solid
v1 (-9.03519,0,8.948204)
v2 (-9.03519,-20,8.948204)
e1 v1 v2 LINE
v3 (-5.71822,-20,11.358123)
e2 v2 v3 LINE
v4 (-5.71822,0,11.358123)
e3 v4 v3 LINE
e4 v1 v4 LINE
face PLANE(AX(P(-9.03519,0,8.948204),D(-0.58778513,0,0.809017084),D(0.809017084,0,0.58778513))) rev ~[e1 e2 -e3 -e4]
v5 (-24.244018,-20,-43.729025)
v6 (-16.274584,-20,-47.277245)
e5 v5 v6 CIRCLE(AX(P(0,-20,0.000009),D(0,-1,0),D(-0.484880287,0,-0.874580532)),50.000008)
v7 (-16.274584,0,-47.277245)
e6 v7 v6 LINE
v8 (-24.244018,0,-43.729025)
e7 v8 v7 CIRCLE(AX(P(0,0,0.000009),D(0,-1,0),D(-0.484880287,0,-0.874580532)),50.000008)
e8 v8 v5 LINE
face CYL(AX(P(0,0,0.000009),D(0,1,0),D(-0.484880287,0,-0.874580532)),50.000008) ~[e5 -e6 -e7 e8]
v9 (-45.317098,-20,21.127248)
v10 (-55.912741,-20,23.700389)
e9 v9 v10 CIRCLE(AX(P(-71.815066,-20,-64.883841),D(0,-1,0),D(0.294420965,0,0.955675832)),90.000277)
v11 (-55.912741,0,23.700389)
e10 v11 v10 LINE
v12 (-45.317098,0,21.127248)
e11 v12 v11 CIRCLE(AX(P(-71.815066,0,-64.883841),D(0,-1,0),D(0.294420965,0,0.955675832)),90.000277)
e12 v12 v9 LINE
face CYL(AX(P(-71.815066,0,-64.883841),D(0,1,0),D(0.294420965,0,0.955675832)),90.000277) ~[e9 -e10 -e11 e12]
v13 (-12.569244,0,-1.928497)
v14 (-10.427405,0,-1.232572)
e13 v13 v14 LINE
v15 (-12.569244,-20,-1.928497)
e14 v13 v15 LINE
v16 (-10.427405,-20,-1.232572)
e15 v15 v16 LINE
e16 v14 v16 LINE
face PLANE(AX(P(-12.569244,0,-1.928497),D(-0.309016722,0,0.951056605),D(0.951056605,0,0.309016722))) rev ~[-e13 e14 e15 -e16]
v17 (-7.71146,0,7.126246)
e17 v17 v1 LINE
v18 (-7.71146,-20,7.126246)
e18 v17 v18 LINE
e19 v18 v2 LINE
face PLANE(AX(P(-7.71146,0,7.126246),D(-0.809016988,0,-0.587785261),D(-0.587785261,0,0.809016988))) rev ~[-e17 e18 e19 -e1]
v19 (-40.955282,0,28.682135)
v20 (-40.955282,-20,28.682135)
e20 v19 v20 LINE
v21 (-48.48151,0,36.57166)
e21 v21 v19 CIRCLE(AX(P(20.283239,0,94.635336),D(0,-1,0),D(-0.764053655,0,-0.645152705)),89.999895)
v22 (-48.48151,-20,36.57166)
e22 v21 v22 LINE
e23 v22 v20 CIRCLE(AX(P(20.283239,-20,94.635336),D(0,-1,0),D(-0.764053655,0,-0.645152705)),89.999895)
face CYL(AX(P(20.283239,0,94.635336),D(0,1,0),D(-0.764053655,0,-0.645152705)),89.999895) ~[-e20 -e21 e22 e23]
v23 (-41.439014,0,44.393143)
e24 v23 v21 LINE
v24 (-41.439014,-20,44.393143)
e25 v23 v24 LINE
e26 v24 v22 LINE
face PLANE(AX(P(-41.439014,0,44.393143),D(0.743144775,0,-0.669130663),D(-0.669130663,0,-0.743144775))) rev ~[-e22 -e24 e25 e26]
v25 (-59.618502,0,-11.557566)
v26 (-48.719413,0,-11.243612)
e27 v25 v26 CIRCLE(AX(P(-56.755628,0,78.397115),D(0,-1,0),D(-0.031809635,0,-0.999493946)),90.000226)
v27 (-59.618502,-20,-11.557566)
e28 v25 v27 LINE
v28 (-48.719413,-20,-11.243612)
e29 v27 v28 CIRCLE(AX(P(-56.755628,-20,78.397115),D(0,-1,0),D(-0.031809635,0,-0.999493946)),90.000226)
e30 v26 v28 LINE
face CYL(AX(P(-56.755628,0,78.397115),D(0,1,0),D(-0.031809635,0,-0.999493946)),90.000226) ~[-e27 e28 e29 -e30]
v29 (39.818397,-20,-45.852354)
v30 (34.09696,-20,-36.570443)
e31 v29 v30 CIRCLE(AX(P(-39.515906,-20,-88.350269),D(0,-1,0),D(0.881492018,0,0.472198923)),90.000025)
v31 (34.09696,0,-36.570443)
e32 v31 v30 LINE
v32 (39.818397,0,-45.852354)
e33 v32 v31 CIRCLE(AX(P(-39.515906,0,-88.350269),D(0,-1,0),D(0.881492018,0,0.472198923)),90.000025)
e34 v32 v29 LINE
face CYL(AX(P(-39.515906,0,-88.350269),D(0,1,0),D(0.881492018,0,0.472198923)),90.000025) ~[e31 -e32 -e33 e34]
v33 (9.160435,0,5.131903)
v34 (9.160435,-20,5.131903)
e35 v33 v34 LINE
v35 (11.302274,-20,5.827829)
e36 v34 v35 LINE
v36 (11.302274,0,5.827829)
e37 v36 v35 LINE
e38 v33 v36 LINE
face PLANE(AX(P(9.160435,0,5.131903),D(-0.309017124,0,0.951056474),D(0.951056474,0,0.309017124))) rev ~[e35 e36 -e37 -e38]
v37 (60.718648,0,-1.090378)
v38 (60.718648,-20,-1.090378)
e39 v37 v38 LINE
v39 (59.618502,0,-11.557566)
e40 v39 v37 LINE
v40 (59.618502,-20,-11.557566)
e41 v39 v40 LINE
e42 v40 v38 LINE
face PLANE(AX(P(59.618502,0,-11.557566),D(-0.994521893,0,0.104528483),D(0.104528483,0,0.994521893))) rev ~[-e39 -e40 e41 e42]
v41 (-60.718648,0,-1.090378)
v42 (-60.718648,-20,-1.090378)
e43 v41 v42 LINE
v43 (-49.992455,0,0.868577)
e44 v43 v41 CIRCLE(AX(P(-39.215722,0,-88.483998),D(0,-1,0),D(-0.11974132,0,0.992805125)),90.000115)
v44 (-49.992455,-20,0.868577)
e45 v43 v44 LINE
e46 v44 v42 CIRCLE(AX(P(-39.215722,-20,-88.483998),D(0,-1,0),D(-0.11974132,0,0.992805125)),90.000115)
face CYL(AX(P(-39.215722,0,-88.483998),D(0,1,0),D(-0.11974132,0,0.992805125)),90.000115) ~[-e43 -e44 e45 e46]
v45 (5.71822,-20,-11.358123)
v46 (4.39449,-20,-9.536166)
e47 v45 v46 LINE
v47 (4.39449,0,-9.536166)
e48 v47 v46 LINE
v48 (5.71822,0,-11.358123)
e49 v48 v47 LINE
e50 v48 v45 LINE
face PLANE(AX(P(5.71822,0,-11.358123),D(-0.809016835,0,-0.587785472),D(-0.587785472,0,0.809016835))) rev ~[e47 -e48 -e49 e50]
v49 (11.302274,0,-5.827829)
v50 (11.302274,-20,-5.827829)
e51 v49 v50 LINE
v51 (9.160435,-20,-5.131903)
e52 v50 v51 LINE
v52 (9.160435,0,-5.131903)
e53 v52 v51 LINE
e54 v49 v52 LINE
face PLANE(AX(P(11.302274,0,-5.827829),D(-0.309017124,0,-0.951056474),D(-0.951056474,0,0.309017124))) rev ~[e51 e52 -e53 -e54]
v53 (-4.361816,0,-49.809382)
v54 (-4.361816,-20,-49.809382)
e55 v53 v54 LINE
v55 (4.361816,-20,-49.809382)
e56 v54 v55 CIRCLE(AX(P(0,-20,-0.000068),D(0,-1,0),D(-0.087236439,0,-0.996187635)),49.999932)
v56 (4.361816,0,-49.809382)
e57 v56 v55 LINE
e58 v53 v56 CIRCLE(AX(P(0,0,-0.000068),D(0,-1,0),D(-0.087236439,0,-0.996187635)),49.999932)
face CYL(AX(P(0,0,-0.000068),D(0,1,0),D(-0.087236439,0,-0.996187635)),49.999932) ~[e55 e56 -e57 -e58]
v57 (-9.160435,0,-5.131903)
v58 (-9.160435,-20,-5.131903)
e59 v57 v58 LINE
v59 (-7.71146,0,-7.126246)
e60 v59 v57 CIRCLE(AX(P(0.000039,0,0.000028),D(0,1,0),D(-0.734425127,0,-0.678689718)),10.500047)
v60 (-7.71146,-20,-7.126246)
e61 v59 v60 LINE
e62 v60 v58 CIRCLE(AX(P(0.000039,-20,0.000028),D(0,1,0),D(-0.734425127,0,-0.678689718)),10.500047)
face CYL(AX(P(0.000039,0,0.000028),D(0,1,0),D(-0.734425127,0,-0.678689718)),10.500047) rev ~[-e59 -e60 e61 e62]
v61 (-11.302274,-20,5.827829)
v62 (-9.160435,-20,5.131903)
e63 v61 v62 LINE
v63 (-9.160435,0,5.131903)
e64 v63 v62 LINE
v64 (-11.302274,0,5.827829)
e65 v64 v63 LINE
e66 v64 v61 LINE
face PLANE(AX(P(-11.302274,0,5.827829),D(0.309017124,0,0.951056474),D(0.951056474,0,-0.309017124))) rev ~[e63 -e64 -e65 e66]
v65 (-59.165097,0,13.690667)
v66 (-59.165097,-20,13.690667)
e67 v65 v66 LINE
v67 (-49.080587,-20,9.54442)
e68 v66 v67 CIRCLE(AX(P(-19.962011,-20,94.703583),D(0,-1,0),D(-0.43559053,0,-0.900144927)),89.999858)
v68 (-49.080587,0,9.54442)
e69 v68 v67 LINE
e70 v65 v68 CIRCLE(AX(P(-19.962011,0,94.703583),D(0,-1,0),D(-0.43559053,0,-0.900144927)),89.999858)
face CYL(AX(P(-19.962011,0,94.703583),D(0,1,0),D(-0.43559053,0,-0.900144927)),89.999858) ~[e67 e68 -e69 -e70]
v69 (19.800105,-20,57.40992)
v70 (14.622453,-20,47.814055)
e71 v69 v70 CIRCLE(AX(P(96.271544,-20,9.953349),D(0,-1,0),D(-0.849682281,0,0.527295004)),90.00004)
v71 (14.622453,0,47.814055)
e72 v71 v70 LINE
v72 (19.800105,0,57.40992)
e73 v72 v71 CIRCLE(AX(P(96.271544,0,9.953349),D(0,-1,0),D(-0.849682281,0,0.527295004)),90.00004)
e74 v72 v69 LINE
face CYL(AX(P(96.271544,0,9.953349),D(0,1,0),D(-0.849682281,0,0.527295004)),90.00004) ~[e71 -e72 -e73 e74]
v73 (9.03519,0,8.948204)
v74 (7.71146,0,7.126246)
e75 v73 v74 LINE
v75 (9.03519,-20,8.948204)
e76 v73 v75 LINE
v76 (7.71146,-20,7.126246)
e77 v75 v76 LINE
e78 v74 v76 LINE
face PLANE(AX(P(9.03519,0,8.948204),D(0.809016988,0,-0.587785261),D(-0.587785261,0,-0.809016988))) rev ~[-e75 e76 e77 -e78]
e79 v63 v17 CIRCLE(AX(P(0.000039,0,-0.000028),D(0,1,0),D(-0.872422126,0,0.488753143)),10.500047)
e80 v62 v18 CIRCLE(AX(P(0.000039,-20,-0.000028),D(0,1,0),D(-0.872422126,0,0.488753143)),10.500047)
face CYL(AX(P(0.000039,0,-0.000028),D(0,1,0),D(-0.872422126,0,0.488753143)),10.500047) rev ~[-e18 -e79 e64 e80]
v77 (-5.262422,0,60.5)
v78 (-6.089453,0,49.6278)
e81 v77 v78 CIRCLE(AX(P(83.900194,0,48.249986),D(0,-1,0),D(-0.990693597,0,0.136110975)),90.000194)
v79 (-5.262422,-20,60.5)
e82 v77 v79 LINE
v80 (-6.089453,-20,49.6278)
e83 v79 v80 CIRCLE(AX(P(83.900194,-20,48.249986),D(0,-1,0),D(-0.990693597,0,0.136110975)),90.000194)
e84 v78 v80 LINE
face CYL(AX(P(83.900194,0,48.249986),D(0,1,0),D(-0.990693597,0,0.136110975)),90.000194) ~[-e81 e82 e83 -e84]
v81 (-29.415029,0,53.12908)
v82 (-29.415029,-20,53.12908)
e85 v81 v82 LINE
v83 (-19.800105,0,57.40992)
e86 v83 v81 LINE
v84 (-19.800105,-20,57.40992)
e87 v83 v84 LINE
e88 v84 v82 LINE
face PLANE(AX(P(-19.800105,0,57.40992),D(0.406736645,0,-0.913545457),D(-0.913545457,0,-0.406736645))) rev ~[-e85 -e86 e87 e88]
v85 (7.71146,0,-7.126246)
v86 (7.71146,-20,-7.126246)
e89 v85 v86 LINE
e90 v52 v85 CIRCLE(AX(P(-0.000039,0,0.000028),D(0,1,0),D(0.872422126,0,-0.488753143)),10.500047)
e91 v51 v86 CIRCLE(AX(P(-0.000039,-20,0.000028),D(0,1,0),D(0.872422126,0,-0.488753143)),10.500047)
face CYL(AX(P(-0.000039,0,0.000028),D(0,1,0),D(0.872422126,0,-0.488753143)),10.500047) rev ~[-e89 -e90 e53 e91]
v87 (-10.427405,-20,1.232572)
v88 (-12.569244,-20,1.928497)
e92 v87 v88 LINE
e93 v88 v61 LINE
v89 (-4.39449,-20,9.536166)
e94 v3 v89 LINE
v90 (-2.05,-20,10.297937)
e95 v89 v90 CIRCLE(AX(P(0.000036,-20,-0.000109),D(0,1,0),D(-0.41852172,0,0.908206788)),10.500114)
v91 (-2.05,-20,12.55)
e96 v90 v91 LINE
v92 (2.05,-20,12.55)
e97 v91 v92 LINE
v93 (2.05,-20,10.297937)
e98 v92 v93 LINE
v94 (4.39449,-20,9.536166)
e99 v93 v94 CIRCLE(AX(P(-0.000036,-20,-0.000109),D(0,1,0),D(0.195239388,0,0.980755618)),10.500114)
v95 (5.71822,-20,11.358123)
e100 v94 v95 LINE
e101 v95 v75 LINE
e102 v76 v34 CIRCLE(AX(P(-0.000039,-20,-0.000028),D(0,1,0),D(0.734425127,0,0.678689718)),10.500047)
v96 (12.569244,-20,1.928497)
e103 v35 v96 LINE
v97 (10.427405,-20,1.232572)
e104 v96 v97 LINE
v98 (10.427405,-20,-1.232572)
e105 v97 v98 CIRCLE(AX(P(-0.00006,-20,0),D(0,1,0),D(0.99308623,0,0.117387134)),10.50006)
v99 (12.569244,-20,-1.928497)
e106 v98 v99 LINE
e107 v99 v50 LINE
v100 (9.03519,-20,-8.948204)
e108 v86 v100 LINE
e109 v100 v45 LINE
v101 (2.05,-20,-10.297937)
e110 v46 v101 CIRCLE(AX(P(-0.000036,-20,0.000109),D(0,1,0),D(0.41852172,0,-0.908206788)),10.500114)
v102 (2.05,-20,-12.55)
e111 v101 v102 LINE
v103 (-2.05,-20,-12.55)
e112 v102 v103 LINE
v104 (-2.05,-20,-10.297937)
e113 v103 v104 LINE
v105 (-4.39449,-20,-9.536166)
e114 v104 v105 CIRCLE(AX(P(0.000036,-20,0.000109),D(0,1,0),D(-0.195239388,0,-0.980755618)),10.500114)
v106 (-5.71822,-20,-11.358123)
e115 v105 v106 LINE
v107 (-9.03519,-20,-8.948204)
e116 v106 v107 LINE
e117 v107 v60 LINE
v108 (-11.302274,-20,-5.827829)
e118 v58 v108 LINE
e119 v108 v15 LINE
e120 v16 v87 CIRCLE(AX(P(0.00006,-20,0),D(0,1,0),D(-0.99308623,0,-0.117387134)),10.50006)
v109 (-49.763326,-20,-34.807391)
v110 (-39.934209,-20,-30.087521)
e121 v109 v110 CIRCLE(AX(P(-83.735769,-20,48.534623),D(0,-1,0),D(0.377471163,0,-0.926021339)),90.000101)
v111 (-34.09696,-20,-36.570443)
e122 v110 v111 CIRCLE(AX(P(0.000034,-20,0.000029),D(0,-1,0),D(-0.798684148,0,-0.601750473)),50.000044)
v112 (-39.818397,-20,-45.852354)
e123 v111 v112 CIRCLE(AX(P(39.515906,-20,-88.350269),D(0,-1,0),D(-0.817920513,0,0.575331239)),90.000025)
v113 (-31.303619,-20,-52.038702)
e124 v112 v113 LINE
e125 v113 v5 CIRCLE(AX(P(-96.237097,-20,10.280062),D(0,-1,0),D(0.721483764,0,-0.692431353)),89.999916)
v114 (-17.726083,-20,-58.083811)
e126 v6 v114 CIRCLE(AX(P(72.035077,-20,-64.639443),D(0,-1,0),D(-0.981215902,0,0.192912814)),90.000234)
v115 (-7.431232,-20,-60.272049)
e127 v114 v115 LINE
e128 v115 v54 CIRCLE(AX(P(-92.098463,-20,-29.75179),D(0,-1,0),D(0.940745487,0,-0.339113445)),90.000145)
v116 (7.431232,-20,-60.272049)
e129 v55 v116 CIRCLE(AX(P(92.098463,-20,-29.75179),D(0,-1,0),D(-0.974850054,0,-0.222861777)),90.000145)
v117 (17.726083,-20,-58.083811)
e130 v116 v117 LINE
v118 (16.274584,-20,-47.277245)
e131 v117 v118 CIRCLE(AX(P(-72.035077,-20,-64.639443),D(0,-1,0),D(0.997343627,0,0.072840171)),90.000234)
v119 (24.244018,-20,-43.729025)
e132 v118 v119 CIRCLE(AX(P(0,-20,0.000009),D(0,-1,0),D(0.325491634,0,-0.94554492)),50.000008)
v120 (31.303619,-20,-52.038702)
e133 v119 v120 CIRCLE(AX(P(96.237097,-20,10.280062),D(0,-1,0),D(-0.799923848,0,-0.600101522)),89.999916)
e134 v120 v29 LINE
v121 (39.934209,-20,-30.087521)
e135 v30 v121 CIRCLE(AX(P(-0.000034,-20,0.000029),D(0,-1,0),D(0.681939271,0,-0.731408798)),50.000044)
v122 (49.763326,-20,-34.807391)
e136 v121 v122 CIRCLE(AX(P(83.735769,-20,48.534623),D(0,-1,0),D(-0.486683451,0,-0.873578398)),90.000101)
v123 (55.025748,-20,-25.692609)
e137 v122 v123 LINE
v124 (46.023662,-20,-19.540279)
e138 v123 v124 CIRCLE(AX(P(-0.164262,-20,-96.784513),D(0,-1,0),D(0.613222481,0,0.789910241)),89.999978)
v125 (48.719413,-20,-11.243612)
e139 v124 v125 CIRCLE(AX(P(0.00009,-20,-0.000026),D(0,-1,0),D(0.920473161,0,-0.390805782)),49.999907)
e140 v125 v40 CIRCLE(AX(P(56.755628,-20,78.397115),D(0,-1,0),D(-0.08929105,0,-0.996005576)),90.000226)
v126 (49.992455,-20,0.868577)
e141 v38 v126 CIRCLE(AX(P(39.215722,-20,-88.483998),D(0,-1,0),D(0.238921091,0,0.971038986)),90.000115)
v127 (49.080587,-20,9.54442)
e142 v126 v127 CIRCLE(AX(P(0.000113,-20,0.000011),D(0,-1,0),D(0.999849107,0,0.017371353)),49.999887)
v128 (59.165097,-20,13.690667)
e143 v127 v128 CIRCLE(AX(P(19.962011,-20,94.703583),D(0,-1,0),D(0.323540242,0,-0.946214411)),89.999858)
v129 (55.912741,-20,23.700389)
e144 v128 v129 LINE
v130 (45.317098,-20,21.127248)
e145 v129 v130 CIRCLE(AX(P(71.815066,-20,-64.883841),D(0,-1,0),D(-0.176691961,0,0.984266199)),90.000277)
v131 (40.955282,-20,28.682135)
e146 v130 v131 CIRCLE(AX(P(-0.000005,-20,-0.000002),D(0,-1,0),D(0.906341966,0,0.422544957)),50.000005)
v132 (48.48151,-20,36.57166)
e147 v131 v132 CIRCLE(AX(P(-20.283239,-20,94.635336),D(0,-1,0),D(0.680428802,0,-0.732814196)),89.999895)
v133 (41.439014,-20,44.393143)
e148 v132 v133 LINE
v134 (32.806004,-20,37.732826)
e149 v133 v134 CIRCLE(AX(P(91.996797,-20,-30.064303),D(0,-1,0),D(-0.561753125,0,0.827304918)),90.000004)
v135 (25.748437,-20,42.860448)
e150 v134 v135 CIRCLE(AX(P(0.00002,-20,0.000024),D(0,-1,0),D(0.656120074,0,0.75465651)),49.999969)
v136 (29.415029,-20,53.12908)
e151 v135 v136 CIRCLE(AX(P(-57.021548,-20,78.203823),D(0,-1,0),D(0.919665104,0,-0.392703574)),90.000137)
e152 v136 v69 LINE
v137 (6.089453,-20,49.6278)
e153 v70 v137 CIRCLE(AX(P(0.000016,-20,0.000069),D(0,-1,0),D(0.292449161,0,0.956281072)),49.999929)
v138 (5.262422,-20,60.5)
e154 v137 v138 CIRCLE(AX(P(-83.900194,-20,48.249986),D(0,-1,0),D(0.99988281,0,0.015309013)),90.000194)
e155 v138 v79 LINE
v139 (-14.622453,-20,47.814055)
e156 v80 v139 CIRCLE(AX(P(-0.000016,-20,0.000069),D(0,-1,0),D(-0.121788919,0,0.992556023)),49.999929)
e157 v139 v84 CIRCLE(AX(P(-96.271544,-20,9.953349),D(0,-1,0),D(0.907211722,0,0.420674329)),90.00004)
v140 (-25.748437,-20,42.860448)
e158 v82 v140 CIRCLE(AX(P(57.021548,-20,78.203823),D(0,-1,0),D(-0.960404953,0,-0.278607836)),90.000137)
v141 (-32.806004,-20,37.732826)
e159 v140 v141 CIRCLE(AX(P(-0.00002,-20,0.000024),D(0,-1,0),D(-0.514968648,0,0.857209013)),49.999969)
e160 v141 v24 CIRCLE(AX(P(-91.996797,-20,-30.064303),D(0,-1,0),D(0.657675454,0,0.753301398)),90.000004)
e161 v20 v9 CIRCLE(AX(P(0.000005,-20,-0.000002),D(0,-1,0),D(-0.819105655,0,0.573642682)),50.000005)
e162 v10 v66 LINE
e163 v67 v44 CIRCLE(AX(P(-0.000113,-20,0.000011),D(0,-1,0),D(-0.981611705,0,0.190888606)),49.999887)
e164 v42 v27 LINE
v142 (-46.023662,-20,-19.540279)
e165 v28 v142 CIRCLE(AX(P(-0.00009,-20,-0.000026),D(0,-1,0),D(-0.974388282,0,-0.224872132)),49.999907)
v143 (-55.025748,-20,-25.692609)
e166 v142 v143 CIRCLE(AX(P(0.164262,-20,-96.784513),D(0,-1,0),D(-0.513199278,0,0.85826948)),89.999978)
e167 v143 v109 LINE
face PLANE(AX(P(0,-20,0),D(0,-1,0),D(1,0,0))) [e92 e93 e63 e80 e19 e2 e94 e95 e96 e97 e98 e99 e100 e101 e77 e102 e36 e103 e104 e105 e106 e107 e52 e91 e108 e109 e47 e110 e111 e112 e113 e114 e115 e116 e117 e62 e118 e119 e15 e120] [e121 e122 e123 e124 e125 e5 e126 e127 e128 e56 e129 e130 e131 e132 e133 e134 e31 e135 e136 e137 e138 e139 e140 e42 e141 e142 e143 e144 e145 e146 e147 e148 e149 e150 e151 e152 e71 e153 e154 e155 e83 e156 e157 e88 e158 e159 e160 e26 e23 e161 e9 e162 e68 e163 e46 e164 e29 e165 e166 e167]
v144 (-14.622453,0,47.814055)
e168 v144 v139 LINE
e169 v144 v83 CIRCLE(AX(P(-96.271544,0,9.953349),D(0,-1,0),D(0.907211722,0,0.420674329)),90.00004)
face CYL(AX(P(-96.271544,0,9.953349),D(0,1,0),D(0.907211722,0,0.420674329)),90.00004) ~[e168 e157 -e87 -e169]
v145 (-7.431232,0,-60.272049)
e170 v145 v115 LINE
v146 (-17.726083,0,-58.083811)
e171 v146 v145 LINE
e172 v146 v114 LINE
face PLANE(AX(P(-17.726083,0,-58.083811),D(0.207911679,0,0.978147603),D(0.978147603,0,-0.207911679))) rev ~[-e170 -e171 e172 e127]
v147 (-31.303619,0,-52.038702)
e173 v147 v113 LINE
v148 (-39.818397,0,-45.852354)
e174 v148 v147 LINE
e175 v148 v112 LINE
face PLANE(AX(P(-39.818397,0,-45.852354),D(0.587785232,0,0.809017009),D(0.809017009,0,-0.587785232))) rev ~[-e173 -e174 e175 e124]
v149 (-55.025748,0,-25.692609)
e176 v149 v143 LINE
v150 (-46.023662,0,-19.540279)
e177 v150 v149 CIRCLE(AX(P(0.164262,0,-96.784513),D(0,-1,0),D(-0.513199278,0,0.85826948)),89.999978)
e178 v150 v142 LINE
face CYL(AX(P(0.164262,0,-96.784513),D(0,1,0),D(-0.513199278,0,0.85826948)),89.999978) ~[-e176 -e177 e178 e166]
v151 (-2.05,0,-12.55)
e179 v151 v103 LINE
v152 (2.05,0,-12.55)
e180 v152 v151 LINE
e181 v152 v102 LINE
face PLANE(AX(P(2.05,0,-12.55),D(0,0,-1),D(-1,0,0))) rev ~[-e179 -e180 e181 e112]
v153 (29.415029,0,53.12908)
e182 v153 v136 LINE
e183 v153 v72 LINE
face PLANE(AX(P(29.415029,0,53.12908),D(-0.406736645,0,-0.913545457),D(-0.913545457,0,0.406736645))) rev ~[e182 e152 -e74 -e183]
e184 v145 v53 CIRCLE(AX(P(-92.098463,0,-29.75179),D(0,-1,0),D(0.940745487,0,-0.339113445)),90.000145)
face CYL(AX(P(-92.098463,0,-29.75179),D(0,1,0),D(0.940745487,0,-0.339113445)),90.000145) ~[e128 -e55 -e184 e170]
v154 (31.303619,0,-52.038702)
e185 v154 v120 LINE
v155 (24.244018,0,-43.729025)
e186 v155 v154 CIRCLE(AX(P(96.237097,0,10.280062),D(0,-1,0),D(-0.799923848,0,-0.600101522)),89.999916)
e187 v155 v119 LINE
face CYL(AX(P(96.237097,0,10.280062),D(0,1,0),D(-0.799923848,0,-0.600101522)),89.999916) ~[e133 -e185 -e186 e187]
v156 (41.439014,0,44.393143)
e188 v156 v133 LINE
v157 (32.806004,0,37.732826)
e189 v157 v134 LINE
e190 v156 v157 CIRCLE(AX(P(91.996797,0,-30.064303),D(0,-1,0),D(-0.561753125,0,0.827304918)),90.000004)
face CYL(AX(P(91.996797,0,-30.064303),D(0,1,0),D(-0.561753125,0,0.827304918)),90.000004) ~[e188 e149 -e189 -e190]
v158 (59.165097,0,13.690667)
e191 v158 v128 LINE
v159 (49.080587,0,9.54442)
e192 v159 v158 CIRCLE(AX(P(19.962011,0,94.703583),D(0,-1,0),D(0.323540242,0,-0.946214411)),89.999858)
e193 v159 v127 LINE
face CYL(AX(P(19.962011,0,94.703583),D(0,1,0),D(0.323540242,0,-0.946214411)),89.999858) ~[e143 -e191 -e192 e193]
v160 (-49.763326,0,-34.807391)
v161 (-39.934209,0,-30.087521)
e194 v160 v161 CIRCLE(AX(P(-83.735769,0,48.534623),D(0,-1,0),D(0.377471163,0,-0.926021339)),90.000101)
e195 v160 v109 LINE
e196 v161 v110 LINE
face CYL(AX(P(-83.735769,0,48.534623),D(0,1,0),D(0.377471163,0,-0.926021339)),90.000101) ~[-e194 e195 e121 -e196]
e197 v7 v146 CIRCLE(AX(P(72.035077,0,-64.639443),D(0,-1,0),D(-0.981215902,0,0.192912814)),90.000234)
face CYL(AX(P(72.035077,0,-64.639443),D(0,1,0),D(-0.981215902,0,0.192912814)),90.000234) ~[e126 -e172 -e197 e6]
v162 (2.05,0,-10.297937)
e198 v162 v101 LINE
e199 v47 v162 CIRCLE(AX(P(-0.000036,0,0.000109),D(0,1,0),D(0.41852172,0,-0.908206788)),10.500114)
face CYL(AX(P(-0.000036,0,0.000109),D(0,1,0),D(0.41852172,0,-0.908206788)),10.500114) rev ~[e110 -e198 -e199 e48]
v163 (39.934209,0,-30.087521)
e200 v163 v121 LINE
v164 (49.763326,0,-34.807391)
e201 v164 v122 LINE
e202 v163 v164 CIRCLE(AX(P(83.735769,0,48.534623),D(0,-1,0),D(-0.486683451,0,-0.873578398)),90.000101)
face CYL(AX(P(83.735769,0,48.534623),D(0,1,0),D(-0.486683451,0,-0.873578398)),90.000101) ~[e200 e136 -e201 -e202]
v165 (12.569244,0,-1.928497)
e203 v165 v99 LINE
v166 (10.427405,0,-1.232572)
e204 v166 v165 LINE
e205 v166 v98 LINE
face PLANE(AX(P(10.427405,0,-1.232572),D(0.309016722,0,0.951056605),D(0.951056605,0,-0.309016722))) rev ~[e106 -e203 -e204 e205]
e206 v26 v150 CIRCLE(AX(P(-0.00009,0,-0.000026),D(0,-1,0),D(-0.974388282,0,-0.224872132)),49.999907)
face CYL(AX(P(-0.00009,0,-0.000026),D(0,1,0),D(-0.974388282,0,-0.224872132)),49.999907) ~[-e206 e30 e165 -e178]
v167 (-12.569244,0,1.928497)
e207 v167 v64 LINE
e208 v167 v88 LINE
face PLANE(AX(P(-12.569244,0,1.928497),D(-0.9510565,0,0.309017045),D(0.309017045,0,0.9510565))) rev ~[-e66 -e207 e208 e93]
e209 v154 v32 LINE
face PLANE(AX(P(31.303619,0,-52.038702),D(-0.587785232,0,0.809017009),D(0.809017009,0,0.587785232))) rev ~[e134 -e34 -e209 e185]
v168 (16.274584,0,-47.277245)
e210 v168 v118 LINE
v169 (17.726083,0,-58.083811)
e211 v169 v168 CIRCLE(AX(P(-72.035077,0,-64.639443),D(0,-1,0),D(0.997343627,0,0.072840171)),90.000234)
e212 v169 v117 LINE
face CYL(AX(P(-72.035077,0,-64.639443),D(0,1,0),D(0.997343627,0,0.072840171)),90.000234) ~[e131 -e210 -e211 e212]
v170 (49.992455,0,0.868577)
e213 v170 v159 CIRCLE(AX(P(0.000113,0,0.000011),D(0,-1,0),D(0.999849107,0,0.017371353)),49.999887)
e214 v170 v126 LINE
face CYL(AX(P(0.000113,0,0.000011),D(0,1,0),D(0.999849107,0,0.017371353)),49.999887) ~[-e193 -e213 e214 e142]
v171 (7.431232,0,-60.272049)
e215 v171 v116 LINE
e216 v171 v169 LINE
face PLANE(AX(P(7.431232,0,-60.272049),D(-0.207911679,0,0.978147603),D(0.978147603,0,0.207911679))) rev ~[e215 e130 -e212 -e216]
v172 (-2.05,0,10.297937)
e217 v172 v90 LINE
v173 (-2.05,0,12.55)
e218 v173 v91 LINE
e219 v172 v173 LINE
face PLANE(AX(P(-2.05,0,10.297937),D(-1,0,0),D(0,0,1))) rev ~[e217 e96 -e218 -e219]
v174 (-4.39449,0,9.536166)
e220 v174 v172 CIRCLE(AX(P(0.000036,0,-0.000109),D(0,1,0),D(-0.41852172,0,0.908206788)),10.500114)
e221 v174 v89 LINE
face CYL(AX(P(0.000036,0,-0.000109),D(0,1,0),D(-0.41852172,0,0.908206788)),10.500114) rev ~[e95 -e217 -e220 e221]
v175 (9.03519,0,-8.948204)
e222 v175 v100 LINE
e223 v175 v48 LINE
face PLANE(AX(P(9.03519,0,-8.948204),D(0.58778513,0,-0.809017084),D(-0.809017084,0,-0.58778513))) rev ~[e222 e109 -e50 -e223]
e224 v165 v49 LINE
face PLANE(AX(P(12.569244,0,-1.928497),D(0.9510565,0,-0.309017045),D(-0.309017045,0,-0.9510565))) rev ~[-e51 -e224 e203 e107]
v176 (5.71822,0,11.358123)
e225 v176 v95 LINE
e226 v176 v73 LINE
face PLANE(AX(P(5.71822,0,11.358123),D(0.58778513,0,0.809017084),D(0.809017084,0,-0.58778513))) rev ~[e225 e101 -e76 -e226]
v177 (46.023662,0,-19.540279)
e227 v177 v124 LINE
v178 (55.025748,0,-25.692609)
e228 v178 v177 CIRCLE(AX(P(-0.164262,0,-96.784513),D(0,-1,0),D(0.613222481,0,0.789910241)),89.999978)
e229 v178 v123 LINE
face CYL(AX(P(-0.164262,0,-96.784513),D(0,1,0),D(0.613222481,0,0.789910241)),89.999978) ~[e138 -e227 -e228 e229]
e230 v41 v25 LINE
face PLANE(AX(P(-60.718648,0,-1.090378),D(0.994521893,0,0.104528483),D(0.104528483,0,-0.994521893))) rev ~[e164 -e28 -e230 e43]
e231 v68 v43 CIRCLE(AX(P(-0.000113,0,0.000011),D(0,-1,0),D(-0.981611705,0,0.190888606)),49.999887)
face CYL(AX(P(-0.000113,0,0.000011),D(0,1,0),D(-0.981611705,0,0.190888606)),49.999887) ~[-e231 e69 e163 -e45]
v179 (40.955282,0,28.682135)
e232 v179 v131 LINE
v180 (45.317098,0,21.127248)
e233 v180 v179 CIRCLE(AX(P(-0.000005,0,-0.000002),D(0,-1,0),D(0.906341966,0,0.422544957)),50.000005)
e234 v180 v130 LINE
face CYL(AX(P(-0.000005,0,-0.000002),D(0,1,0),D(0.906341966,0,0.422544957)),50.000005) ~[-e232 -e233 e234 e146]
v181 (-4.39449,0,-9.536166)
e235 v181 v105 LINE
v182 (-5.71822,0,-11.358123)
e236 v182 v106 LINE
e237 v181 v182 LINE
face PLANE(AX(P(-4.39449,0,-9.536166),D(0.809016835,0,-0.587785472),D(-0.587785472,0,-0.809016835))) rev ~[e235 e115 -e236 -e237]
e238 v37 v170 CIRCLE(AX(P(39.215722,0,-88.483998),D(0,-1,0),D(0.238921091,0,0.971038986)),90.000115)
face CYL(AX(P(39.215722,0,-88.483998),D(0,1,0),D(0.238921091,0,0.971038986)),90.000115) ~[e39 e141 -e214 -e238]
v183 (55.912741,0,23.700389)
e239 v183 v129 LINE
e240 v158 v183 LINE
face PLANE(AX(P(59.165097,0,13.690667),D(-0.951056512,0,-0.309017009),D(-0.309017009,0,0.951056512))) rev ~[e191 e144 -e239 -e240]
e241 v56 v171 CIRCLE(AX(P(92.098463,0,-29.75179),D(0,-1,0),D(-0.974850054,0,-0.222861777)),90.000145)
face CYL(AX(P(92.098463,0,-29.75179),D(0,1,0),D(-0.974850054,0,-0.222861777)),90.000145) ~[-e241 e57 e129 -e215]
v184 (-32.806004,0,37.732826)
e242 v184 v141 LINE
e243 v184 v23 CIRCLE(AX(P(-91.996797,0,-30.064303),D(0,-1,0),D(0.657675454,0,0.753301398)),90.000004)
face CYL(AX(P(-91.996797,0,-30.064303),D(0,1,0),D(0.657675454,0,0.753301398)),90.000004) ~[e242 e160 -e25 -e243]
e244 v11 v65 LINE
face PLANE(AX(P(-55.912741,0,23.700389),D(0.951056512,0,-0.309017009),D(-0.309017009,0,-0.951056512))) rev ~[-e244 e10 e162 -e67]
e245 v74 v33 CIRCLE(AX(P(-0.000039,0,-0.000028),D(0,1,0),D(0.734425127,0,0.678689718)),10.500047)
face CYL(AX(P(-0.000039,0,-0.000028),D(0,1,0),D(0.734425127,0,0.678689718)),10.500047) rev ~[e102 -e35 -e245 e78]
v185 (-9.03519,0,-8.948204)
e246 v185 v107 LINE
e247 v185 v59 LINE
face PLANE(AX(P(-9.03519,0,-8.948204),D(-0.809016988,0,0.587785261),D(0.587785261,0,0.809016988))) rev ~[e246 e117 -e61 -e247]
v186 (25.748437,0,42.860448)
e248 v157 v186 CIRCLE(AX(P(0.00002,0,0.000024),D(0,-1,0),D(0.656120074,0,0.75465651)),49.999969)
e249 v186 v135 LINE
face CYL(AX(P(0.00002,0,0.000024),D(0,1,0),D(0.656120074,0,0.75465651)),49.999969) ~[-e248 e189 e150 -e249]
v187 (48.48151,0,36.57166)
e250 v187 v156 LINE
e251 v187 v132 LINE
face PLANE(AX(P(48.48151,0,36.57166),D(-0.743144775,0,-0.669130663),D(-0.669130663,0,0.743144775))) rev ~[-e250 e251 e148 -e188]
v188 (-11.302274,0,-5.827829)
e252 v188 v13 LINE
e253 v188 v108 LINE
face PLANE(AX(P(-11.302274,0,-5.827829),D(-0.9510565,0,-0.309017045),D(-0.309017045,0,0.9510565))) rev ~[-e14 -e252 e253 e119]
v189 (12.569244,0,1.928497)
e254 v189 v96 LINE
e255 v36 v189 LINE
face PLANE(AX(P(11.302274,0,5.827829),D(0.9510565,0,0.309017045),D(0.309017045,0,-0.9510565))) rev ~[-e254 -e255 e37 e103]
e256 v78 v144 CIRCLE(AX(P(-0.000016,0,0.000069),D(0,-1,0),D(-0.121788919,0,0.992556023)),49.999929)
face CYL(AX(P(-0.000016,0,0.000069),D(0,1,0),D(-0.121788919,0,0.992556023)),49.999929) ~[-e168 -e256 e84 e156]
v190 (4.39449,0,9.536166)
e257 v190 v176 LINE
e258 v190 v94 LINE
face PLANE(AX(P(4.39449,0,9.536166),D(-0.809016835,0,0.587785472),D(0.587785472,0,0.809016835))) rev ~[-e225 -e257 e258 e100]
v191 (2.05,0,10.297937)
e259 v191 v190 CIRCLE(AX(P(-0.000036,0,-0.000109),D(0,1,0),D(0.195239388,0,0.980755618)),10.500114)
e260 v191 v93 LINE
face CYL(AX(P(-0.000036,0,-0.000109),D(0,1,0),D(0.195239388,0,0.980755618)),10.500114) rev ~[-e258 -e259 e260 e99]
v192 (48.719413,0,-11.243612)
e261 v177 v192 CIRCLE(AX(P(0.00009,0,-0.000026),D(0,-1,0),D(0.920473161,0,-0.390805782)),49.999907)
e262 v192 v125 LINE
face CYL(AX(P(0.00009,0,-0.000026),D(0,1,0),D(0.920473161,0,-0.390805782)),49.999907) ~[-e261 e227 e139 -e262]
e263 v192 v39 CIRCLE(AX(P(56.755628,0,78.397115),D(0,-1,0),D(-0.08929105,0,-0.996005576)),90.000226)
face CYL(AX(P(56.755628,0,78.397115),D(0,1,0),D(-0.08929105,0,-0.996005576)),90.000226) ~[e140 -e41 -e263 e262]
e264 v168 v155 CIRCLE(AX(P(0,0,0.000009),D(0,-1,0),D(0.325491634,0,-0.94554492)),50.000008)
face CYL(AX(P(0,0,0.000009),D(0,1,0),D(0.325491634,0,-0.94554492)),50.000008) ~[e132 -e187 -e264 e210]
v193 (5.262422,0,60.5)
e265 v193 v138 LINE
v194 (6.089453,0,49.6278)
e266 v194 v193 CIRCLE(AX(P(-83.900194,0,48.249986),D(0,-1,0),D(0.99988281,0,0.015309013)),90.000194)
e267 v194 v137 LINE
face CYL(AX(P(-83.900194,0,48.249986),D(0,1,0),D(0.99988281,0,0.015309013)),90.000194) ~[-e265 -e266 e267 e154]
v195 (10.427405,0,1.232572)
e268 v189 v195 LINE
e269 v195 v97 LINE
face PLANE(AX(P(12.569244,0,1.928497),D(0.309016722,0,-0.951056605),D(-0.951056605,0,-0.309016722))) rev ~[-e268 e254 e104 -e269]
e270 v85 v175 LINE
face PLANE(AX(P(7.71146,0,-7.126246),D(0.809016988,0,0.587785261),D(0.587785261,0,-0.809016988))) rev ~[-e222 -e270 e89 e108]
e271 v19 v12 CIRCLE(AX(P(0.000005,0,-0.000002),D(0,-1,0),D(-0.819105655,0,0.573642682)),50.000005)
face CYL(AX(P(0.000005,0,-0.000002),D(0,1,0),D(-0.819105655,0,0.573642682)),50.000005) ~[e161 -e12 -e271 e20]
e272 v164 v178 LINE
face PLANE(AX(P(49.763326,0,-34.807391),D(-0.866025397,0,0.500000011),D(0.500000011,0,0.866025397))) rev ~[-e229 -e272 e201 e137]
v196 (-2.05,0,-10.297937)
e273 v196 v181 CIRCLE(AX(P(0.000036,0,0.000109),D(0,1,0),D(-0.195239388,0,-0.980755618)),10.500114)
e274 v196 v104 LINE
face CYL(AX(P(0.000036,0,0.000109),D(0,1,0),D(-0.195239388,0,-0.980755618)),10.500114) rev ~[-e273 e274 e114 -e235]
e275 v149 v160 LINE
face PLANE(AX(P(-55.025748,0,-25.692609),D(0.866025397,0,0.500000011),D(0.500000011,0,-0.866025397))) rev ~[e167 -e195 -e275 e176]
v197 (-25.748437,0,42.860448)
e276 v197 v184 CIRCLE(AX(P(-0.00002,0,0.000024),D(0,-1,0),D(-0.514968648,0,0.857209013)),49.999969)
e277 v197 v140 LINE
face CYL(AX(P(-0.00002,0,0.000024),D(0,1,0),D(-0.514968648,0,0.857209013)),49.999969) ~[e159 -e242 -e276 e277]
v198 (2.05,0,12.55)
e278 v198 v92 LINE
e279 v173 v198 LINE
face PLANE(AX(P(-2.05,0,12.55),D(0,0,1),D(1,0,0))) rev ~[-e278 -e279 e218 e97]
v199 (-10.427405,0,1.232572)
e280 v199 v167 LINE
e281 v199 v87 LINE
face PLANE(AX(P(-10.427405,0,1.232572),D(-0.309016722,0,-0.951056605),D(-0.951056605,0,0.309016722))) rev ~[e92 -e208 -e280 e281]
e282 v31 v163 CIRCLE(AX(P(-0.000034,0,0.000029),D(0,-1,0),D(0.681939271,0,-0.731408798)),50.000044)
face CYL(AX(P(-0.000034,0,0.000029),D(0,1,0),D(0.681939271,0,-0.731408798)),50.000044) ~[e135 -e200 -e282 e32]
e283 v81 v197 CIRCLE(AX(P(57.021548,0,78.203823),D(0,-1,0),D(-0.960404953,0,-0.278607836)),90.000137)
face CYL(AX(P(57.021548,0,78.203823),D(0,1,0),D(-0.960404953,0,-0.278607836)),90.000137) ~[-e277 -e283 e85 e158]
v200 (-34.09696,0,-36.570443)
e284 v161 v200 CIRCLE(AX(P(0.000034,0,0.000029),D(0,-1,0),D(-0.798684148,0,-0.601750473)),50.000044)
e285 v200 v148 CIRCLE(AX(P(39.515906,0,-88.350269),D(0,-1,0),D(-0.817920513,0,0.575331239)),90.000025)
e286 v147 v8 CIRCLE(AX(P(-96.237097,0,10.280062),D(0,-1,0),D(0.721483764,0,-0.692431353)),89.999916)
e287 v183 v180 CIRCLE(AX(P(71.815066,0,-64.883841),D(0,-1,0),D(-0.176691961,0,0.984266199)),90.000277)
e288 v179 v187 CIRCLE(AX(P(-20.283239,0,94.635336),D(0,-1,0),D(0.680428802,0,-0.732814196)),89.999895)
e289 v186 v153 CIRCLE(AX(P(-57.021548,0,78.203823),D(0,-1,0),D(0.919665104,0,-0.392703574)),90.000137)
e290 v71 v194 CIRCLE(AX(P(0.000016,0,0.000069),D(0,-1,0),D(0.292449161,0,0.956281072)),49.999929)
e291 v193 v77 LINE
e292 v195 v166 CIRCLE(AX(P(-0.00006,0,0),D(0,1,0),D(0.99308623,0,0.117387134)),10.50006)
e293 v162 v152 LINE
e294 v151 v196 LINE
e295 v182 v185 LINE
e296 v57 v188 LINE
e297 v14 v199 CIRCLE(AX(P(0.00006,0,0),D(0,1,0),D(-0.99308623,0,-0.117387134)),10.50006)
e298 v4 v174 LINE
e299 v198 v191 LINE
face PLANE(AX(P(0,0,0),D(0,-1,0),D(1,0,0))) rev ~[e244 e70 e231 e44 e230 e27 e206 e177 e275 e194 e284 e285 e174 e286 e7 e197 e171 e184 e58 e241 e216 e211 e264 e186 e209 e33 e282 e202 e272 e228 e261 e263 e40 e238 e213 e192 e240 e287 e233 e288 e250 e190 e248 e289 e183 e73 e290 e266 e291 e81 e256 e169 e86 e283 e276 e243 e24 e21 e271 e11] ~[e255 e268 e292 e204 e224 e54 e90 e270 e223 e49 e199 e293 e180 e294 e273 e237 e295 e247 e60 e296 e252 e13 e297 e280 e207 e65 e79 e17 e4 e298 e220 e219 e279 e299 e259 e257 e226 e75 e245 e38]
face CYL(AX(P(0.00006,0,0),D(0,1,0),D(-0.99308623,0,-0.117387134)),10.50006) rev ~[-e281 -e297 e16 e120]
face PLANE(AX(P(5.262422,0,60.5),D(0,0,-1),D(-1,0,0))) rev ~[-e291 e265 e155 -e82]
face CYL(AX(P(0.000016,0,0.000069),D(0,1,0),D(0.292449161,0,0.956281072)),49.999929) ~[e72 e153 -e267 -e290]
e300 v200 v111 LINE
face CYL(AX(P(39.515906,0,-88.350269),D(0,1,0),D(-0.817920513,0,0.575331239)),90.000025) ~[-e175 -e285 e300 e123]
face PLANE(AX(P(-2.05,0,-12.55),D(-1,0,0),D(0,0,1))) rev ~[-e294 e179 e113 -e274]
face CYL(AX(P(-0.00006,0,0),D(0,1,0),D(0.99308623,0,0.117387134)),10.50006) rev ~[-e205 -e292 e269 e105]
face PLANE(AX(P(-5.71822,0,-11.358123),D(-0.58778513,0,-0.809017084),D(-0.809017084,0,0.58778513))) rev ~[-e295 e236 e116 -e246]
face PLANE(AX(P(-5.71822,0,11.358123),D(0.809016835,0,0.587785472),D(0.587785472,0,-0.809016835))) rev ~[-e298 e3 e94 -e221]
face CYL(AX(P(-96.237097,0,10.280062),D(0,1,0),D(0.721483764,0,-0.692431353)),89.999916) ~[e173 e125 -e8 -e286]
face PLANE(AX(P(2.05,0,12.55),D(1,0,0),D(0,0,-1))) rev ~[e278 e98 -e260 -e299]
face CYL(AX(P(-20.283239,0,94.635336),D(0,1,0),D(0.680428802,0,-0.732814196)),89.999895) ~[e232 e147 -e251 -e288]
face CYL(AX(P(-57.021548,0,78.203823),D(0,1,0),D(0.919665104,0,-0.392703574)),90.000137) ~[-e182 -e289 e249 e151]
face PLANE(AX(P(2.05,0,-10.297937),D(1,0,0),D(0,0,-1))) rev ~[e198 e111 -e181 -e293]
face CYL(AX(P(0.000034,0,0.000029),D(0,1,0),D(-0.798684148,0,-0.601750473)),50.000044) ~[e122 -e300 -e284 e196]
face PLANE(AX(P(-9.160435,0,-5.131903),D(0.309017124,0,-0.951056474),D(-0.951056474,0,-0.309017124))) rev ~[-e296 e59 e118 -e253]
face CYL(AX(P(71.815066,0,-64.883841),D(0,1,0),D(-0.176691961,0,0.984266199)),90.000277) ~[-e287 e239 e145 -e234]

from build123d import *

# Parameters (mm, degrees)
F1_DEPTH = 20


with BuildPart() as f1:
    # F0 (on Front) → F1 (new body)
    with BuildSketch(Plane.XZ):
        with BuildLine():
            ThreePointArc((-48.48151, 36.57166), (-44.837984, 32.512816), (-40.955282, 28.682135))
            ThreePointArc((-40.955282, 28.682135), (-43.30127, 25), (-45.317098, 21.127248))
            ThreePointArc((-45.317098, 21.127248), (-50.575917, 22.574425), (-55.912741, 23.700389))
            Line((-55.912741, 23.700389), (-59.165097, 13.690667))
            ThreePointArc((-59.165097, 13.690667), (-54.18569, 11.464684), (-49.080587, 9.54442))
            ThreePointArc((-49.080587, 9.54442), (-49.726095, 5.226423), (-49.992455, 0.868577))
            ThreePointArc((-49.992455, 0.868577), (-55.385245, 0.051685), (-60.718648, -1.090378))
            Line((-60.718648, -1.090378), (-59.618502, -11.557566))
            ThreePointArc((-59.618502, -11.557566), (-54.164198, -11.565795), (-48.719413, -11.243612))
            ThreePointArc((-48.719413, -11.243612), (-47.552826, -15.45085), (-46.023662, -19.540279))
            ThreePointArc((-46.023662, -19.540279), (-50.617961, -22.479992), (-55.025748, -25.692609))
            Line((-55.025748, -25.692609), (-49.763326, -34.807391))
            ThreePointArc((-49.763326, -34.807391), (-44.777225, -32.596444), (-39.934209, -30.087521))
            ThreePointArc((-39.934209, -30.087521), (-37.157241, -33.45653), (-34.09696, -36.570443))
            ThreePointArc((-34.09696, -36.570443), (-37.098372, -41.124674), (-39.818397, -45.852354))
            Line((-39.818397, -45.852354), (-31.303619, -52.038702))
            ThreePointArc((-31.303619, -52.038702), (-27.647862, -47.990872), (-24.244018, -43.729025))
            ThreePointArc((-24.244018, -43.729025), (-20.336832, -45.677273), (-16.274584, -47.277245))
            ThreePointArc((-16.274584, -47.277245), (-17.164137, -52.658526), (-17.726083, -58.083811))
            Line((-17.726083, -58.083811), (-7.431232, -60.272049))
            ThreePointArc((-7.431232, -60.272049), (-5.737933, -55.087241), (-4.361816, -49.809382))
            ThreePointArc((-4.361816, -49.809382), (0, -50), (4.361816, -49.809382))
            ThreePointArc((4.361816, -49.809382), (5.737933, -55.087241), (7.431232, -60.272049))
            Line((7.431232, -60.272049), (17.726083, -58.083811))
            ThreePointArc((17.726083, -58.083811), (17.164137, -52.658526), (16.274584, -47.277245))
            ThreePointArc((16.274584, -47.277245), (20.336832, -45.677273), (24.244018, -43.729025))
            ThreePointArc((24.244018, -43.729025), (27.647862, -47.990872), (31.303619, -52.038702))
            Line((31.303619, -52.038702), (39.818397, -45.852354))
            ThreePointArc((39.818397, -45.852354), (37.098372, -41.124674), (34.09696, -36.570443))
            ThreePointArc((34.09696, -36.570443), (37.157241, -33.45653), (39.934209, -30.087521))
            ThreePointArc((39.934209, -30.087521), (44.777225, -32.596444), (49.763326, -34.807391))
            Line((49.763326, -34.807391), (55.025748, -25.692609))
            ThreePointArc((55.025748, -25.692609), (50.617961, -22.479992), (46.023662, -19.540279))
            ThreePointArc((46.023662, -19.540279), (47.552826, -15.45085), (48.719413, -11.243612))
            ThreePointArc((48.719413, -11.243612), (54.164198, -11.565795), (59.618502, -11.557566))
            Line((59.618502, -11.557566), (60.718648, -1.090378))
            ThreePointArc((60.718648, -1.090378), (55.385245, 0.051685), (49.992455, 0.868577))
            ThreePointArc((49.992455, 0.868577), (49.726095, 5.226423), (49.080587, 9.54442))
            ThreePointArc((49.080587, 9.54442), (54.18569, 11.464684), (59.165097, 13.690667))
            Line((59.165097, 13.690667), (55.912741, 23.700389))
            ThreePointArc((55.912741, 23.700389), (50.575917, 22.574425), (45.317098, 21.127248))
            ThreePointArc((45.317098, 21.127248), (43.30127, 25), (40.955282, 28.682135))
            ThreePointArc((40.955282, 28.682135), (44.837984, 32.512816), (48.48151, 36.57166))
            Line((48.48151, 36.57166), (41.439014, 44.393143))
            ThreePointArc((41.439014, 44.393143), (37.021553, 41.193842), (32.806004, 37.732826))
            ThreePointArc((32.806004, 37.732826), (29.389263, 40.45085), (25.748437, 42.860448))
            ThreePointArc((25.748437, 42.860448), (27.737383, 47.939187), (29.415029, 53.12908))
            Line((29.415029, 53.12908), (19.800105, 57.40992))
            ThreePointArc((19.800105, 57.40992), (17.065827, 52.69047), (14.622453, 47.814055))
            ThreePointArc((14.622453, 47.814055), (10.395585, 48.90738), (6.089453, 49.6278))
            ThreePointArc((6.089453, 49.6278), (5.840736, 55.076436), (5.262422, 60.5))
            Line((5.262422, 60.5), (-5.262422, 60.5))
            ThreePointArc((-5.262422, 60.5), (-5.840736, 55.076436), (-6.089453, 49.6278))
            ThreePointArc((-6.089453, 49.6278), (-10.395585, 48.90738), (-14.622453, 47.814055))
            ThreePointArc((-14.622453, 47.814055), (-17.065827, 52.69047), (-19.800105, 57.40992))
            Line((-19.800105, 57.40992), (-29.415029, 53.12908))
            ThreePointArc((-29.415029, 53.12908), (-27.737383, 47.939187), (-25.748437, 42.860448))
            ThreePointArc((-25.748437, 42.860448), (-29.389263, 40.45085), (-32.806004, 37.732826))
            ThreePointArc((-32.806004, 37.732826), (-37.021553, 41.193842), (-41.439014, 44.393143))
            Line((-41.439014, 44.393143), (-48.48151, 36.57166))
        make_face()
        with BuildLine():
            ThreePointArc((-2.05, -10.297937), (-3.244678, -9.986093), (-4.39449, -9.536166))
            Line((-4.39449, -9.536166), (-5.71822, -11.358123))
            Line((-5.71822, -11.358123), (-9.03519, -8.948204))
            Line((-9.03519, -8.948204), (-7.71146, -7.126246))
            ThreePointArc((-7.71146, -7.126246), (-8.494678, -6.171745), (-9.160435, -5.131903))
            Line((-9.160435, -5.131903), (-11.302274, -5.827829))
            Line((-11.302274, -5.827829), (-12.569244, -1.928497))
            Line((-12.569244, -1.928497), (-10.427405, -1.232572))
            ThreePointArc((-10.427405, -1.232572), (-10.5, 0), (-10.427405, 1.232572))
            Line((-10.427405, 1.232572), (-12.569244, 1.928497))
            Line((-12.569244, 1.928497), (-11.302274, 5.827829))
            Line((-11.302274, 5.827829), (-9.160435, 5.131903))
            ThreePointArc((-9.160435, 5.131903), (-8.494678, 6.171745), (-7.71146, 7.126246))
            Line((-7.71146, 7.126246), (-9.03519, 8.948204))
            Line((-9.03519, 8.948204), (-5.71822, 11.358123))
            Line((-5.71822, 11.358123), (-4.39449, 9.536166))
            ThreePointArc((-4.39449, 9.536166), (-3.244678, 9.986093), (-2.05, 10.297937))
            Line((-2.05, 10.297937), (-2.05, 12.55))
            Line((-2.05, 12.55), (2.05, 12.55))
            Line((2.05, 12.55), (2.05, 10.297937))
            ThreePointArc((2.05, 10.297937), (3.244678, 9.986093), (4.39449, 9.536166))
            Line((4.39449, 9.536166), (5.71822, 11.358123))
            Line((5.71822, 11.358123), (9.03519, 8.948204))
            Line((9.03519, 8.948204), (7.71146, 7.126246))
            ThreePointArc((7.71146, 7.126246), (8.494678, 6.171745), (9.160435, 5.131903))
            Line((9.160435, 5.131903), (11.302274, 5.827829))
            Line((11.302274, 5.827829), (12.569244, 1.928497))
            Line((12.569244, 1.928497), (10.427405, 1.232572))
            ThreePointArc((10.427405, 1.232572), (10.5, 0), (10.427405, -1.232572))
            Line((10.427405, -1.232572), (12.569244, -1.928497))
            Line((12.569244, -1.928497), (11.302274, -5.827829))
            Line((11.302274, -5.827829), (9.160435, -5.131903))
            ThreePointArc((9.160435, -5.131903), (8.494678, -6.171745), (7.71146, -7.126246))
            Line((7.71146, -7.126246), (9.03519, -8.948204))
            Line((9.03519, -8.948204), (5.71822, -11.358123))
            Line((5.71822, -11.358123), (4.39449, -9.536166))
            ThreePointArc((4.39449, -9.536166), (3.244678, -9.986093), (2.05, -10.297937))
            Line((2.05, -10.297937), (2.05, -12.55))
            Line((2.05, -12.55), (-2.05, -12.55))
            Line((-2.05, -12.55), (-2.05, -10.297937))
        make_face(mode=Mode.SUBTRACT)
    extrude(amount=F1_DEPTH)


solid = f1.part
